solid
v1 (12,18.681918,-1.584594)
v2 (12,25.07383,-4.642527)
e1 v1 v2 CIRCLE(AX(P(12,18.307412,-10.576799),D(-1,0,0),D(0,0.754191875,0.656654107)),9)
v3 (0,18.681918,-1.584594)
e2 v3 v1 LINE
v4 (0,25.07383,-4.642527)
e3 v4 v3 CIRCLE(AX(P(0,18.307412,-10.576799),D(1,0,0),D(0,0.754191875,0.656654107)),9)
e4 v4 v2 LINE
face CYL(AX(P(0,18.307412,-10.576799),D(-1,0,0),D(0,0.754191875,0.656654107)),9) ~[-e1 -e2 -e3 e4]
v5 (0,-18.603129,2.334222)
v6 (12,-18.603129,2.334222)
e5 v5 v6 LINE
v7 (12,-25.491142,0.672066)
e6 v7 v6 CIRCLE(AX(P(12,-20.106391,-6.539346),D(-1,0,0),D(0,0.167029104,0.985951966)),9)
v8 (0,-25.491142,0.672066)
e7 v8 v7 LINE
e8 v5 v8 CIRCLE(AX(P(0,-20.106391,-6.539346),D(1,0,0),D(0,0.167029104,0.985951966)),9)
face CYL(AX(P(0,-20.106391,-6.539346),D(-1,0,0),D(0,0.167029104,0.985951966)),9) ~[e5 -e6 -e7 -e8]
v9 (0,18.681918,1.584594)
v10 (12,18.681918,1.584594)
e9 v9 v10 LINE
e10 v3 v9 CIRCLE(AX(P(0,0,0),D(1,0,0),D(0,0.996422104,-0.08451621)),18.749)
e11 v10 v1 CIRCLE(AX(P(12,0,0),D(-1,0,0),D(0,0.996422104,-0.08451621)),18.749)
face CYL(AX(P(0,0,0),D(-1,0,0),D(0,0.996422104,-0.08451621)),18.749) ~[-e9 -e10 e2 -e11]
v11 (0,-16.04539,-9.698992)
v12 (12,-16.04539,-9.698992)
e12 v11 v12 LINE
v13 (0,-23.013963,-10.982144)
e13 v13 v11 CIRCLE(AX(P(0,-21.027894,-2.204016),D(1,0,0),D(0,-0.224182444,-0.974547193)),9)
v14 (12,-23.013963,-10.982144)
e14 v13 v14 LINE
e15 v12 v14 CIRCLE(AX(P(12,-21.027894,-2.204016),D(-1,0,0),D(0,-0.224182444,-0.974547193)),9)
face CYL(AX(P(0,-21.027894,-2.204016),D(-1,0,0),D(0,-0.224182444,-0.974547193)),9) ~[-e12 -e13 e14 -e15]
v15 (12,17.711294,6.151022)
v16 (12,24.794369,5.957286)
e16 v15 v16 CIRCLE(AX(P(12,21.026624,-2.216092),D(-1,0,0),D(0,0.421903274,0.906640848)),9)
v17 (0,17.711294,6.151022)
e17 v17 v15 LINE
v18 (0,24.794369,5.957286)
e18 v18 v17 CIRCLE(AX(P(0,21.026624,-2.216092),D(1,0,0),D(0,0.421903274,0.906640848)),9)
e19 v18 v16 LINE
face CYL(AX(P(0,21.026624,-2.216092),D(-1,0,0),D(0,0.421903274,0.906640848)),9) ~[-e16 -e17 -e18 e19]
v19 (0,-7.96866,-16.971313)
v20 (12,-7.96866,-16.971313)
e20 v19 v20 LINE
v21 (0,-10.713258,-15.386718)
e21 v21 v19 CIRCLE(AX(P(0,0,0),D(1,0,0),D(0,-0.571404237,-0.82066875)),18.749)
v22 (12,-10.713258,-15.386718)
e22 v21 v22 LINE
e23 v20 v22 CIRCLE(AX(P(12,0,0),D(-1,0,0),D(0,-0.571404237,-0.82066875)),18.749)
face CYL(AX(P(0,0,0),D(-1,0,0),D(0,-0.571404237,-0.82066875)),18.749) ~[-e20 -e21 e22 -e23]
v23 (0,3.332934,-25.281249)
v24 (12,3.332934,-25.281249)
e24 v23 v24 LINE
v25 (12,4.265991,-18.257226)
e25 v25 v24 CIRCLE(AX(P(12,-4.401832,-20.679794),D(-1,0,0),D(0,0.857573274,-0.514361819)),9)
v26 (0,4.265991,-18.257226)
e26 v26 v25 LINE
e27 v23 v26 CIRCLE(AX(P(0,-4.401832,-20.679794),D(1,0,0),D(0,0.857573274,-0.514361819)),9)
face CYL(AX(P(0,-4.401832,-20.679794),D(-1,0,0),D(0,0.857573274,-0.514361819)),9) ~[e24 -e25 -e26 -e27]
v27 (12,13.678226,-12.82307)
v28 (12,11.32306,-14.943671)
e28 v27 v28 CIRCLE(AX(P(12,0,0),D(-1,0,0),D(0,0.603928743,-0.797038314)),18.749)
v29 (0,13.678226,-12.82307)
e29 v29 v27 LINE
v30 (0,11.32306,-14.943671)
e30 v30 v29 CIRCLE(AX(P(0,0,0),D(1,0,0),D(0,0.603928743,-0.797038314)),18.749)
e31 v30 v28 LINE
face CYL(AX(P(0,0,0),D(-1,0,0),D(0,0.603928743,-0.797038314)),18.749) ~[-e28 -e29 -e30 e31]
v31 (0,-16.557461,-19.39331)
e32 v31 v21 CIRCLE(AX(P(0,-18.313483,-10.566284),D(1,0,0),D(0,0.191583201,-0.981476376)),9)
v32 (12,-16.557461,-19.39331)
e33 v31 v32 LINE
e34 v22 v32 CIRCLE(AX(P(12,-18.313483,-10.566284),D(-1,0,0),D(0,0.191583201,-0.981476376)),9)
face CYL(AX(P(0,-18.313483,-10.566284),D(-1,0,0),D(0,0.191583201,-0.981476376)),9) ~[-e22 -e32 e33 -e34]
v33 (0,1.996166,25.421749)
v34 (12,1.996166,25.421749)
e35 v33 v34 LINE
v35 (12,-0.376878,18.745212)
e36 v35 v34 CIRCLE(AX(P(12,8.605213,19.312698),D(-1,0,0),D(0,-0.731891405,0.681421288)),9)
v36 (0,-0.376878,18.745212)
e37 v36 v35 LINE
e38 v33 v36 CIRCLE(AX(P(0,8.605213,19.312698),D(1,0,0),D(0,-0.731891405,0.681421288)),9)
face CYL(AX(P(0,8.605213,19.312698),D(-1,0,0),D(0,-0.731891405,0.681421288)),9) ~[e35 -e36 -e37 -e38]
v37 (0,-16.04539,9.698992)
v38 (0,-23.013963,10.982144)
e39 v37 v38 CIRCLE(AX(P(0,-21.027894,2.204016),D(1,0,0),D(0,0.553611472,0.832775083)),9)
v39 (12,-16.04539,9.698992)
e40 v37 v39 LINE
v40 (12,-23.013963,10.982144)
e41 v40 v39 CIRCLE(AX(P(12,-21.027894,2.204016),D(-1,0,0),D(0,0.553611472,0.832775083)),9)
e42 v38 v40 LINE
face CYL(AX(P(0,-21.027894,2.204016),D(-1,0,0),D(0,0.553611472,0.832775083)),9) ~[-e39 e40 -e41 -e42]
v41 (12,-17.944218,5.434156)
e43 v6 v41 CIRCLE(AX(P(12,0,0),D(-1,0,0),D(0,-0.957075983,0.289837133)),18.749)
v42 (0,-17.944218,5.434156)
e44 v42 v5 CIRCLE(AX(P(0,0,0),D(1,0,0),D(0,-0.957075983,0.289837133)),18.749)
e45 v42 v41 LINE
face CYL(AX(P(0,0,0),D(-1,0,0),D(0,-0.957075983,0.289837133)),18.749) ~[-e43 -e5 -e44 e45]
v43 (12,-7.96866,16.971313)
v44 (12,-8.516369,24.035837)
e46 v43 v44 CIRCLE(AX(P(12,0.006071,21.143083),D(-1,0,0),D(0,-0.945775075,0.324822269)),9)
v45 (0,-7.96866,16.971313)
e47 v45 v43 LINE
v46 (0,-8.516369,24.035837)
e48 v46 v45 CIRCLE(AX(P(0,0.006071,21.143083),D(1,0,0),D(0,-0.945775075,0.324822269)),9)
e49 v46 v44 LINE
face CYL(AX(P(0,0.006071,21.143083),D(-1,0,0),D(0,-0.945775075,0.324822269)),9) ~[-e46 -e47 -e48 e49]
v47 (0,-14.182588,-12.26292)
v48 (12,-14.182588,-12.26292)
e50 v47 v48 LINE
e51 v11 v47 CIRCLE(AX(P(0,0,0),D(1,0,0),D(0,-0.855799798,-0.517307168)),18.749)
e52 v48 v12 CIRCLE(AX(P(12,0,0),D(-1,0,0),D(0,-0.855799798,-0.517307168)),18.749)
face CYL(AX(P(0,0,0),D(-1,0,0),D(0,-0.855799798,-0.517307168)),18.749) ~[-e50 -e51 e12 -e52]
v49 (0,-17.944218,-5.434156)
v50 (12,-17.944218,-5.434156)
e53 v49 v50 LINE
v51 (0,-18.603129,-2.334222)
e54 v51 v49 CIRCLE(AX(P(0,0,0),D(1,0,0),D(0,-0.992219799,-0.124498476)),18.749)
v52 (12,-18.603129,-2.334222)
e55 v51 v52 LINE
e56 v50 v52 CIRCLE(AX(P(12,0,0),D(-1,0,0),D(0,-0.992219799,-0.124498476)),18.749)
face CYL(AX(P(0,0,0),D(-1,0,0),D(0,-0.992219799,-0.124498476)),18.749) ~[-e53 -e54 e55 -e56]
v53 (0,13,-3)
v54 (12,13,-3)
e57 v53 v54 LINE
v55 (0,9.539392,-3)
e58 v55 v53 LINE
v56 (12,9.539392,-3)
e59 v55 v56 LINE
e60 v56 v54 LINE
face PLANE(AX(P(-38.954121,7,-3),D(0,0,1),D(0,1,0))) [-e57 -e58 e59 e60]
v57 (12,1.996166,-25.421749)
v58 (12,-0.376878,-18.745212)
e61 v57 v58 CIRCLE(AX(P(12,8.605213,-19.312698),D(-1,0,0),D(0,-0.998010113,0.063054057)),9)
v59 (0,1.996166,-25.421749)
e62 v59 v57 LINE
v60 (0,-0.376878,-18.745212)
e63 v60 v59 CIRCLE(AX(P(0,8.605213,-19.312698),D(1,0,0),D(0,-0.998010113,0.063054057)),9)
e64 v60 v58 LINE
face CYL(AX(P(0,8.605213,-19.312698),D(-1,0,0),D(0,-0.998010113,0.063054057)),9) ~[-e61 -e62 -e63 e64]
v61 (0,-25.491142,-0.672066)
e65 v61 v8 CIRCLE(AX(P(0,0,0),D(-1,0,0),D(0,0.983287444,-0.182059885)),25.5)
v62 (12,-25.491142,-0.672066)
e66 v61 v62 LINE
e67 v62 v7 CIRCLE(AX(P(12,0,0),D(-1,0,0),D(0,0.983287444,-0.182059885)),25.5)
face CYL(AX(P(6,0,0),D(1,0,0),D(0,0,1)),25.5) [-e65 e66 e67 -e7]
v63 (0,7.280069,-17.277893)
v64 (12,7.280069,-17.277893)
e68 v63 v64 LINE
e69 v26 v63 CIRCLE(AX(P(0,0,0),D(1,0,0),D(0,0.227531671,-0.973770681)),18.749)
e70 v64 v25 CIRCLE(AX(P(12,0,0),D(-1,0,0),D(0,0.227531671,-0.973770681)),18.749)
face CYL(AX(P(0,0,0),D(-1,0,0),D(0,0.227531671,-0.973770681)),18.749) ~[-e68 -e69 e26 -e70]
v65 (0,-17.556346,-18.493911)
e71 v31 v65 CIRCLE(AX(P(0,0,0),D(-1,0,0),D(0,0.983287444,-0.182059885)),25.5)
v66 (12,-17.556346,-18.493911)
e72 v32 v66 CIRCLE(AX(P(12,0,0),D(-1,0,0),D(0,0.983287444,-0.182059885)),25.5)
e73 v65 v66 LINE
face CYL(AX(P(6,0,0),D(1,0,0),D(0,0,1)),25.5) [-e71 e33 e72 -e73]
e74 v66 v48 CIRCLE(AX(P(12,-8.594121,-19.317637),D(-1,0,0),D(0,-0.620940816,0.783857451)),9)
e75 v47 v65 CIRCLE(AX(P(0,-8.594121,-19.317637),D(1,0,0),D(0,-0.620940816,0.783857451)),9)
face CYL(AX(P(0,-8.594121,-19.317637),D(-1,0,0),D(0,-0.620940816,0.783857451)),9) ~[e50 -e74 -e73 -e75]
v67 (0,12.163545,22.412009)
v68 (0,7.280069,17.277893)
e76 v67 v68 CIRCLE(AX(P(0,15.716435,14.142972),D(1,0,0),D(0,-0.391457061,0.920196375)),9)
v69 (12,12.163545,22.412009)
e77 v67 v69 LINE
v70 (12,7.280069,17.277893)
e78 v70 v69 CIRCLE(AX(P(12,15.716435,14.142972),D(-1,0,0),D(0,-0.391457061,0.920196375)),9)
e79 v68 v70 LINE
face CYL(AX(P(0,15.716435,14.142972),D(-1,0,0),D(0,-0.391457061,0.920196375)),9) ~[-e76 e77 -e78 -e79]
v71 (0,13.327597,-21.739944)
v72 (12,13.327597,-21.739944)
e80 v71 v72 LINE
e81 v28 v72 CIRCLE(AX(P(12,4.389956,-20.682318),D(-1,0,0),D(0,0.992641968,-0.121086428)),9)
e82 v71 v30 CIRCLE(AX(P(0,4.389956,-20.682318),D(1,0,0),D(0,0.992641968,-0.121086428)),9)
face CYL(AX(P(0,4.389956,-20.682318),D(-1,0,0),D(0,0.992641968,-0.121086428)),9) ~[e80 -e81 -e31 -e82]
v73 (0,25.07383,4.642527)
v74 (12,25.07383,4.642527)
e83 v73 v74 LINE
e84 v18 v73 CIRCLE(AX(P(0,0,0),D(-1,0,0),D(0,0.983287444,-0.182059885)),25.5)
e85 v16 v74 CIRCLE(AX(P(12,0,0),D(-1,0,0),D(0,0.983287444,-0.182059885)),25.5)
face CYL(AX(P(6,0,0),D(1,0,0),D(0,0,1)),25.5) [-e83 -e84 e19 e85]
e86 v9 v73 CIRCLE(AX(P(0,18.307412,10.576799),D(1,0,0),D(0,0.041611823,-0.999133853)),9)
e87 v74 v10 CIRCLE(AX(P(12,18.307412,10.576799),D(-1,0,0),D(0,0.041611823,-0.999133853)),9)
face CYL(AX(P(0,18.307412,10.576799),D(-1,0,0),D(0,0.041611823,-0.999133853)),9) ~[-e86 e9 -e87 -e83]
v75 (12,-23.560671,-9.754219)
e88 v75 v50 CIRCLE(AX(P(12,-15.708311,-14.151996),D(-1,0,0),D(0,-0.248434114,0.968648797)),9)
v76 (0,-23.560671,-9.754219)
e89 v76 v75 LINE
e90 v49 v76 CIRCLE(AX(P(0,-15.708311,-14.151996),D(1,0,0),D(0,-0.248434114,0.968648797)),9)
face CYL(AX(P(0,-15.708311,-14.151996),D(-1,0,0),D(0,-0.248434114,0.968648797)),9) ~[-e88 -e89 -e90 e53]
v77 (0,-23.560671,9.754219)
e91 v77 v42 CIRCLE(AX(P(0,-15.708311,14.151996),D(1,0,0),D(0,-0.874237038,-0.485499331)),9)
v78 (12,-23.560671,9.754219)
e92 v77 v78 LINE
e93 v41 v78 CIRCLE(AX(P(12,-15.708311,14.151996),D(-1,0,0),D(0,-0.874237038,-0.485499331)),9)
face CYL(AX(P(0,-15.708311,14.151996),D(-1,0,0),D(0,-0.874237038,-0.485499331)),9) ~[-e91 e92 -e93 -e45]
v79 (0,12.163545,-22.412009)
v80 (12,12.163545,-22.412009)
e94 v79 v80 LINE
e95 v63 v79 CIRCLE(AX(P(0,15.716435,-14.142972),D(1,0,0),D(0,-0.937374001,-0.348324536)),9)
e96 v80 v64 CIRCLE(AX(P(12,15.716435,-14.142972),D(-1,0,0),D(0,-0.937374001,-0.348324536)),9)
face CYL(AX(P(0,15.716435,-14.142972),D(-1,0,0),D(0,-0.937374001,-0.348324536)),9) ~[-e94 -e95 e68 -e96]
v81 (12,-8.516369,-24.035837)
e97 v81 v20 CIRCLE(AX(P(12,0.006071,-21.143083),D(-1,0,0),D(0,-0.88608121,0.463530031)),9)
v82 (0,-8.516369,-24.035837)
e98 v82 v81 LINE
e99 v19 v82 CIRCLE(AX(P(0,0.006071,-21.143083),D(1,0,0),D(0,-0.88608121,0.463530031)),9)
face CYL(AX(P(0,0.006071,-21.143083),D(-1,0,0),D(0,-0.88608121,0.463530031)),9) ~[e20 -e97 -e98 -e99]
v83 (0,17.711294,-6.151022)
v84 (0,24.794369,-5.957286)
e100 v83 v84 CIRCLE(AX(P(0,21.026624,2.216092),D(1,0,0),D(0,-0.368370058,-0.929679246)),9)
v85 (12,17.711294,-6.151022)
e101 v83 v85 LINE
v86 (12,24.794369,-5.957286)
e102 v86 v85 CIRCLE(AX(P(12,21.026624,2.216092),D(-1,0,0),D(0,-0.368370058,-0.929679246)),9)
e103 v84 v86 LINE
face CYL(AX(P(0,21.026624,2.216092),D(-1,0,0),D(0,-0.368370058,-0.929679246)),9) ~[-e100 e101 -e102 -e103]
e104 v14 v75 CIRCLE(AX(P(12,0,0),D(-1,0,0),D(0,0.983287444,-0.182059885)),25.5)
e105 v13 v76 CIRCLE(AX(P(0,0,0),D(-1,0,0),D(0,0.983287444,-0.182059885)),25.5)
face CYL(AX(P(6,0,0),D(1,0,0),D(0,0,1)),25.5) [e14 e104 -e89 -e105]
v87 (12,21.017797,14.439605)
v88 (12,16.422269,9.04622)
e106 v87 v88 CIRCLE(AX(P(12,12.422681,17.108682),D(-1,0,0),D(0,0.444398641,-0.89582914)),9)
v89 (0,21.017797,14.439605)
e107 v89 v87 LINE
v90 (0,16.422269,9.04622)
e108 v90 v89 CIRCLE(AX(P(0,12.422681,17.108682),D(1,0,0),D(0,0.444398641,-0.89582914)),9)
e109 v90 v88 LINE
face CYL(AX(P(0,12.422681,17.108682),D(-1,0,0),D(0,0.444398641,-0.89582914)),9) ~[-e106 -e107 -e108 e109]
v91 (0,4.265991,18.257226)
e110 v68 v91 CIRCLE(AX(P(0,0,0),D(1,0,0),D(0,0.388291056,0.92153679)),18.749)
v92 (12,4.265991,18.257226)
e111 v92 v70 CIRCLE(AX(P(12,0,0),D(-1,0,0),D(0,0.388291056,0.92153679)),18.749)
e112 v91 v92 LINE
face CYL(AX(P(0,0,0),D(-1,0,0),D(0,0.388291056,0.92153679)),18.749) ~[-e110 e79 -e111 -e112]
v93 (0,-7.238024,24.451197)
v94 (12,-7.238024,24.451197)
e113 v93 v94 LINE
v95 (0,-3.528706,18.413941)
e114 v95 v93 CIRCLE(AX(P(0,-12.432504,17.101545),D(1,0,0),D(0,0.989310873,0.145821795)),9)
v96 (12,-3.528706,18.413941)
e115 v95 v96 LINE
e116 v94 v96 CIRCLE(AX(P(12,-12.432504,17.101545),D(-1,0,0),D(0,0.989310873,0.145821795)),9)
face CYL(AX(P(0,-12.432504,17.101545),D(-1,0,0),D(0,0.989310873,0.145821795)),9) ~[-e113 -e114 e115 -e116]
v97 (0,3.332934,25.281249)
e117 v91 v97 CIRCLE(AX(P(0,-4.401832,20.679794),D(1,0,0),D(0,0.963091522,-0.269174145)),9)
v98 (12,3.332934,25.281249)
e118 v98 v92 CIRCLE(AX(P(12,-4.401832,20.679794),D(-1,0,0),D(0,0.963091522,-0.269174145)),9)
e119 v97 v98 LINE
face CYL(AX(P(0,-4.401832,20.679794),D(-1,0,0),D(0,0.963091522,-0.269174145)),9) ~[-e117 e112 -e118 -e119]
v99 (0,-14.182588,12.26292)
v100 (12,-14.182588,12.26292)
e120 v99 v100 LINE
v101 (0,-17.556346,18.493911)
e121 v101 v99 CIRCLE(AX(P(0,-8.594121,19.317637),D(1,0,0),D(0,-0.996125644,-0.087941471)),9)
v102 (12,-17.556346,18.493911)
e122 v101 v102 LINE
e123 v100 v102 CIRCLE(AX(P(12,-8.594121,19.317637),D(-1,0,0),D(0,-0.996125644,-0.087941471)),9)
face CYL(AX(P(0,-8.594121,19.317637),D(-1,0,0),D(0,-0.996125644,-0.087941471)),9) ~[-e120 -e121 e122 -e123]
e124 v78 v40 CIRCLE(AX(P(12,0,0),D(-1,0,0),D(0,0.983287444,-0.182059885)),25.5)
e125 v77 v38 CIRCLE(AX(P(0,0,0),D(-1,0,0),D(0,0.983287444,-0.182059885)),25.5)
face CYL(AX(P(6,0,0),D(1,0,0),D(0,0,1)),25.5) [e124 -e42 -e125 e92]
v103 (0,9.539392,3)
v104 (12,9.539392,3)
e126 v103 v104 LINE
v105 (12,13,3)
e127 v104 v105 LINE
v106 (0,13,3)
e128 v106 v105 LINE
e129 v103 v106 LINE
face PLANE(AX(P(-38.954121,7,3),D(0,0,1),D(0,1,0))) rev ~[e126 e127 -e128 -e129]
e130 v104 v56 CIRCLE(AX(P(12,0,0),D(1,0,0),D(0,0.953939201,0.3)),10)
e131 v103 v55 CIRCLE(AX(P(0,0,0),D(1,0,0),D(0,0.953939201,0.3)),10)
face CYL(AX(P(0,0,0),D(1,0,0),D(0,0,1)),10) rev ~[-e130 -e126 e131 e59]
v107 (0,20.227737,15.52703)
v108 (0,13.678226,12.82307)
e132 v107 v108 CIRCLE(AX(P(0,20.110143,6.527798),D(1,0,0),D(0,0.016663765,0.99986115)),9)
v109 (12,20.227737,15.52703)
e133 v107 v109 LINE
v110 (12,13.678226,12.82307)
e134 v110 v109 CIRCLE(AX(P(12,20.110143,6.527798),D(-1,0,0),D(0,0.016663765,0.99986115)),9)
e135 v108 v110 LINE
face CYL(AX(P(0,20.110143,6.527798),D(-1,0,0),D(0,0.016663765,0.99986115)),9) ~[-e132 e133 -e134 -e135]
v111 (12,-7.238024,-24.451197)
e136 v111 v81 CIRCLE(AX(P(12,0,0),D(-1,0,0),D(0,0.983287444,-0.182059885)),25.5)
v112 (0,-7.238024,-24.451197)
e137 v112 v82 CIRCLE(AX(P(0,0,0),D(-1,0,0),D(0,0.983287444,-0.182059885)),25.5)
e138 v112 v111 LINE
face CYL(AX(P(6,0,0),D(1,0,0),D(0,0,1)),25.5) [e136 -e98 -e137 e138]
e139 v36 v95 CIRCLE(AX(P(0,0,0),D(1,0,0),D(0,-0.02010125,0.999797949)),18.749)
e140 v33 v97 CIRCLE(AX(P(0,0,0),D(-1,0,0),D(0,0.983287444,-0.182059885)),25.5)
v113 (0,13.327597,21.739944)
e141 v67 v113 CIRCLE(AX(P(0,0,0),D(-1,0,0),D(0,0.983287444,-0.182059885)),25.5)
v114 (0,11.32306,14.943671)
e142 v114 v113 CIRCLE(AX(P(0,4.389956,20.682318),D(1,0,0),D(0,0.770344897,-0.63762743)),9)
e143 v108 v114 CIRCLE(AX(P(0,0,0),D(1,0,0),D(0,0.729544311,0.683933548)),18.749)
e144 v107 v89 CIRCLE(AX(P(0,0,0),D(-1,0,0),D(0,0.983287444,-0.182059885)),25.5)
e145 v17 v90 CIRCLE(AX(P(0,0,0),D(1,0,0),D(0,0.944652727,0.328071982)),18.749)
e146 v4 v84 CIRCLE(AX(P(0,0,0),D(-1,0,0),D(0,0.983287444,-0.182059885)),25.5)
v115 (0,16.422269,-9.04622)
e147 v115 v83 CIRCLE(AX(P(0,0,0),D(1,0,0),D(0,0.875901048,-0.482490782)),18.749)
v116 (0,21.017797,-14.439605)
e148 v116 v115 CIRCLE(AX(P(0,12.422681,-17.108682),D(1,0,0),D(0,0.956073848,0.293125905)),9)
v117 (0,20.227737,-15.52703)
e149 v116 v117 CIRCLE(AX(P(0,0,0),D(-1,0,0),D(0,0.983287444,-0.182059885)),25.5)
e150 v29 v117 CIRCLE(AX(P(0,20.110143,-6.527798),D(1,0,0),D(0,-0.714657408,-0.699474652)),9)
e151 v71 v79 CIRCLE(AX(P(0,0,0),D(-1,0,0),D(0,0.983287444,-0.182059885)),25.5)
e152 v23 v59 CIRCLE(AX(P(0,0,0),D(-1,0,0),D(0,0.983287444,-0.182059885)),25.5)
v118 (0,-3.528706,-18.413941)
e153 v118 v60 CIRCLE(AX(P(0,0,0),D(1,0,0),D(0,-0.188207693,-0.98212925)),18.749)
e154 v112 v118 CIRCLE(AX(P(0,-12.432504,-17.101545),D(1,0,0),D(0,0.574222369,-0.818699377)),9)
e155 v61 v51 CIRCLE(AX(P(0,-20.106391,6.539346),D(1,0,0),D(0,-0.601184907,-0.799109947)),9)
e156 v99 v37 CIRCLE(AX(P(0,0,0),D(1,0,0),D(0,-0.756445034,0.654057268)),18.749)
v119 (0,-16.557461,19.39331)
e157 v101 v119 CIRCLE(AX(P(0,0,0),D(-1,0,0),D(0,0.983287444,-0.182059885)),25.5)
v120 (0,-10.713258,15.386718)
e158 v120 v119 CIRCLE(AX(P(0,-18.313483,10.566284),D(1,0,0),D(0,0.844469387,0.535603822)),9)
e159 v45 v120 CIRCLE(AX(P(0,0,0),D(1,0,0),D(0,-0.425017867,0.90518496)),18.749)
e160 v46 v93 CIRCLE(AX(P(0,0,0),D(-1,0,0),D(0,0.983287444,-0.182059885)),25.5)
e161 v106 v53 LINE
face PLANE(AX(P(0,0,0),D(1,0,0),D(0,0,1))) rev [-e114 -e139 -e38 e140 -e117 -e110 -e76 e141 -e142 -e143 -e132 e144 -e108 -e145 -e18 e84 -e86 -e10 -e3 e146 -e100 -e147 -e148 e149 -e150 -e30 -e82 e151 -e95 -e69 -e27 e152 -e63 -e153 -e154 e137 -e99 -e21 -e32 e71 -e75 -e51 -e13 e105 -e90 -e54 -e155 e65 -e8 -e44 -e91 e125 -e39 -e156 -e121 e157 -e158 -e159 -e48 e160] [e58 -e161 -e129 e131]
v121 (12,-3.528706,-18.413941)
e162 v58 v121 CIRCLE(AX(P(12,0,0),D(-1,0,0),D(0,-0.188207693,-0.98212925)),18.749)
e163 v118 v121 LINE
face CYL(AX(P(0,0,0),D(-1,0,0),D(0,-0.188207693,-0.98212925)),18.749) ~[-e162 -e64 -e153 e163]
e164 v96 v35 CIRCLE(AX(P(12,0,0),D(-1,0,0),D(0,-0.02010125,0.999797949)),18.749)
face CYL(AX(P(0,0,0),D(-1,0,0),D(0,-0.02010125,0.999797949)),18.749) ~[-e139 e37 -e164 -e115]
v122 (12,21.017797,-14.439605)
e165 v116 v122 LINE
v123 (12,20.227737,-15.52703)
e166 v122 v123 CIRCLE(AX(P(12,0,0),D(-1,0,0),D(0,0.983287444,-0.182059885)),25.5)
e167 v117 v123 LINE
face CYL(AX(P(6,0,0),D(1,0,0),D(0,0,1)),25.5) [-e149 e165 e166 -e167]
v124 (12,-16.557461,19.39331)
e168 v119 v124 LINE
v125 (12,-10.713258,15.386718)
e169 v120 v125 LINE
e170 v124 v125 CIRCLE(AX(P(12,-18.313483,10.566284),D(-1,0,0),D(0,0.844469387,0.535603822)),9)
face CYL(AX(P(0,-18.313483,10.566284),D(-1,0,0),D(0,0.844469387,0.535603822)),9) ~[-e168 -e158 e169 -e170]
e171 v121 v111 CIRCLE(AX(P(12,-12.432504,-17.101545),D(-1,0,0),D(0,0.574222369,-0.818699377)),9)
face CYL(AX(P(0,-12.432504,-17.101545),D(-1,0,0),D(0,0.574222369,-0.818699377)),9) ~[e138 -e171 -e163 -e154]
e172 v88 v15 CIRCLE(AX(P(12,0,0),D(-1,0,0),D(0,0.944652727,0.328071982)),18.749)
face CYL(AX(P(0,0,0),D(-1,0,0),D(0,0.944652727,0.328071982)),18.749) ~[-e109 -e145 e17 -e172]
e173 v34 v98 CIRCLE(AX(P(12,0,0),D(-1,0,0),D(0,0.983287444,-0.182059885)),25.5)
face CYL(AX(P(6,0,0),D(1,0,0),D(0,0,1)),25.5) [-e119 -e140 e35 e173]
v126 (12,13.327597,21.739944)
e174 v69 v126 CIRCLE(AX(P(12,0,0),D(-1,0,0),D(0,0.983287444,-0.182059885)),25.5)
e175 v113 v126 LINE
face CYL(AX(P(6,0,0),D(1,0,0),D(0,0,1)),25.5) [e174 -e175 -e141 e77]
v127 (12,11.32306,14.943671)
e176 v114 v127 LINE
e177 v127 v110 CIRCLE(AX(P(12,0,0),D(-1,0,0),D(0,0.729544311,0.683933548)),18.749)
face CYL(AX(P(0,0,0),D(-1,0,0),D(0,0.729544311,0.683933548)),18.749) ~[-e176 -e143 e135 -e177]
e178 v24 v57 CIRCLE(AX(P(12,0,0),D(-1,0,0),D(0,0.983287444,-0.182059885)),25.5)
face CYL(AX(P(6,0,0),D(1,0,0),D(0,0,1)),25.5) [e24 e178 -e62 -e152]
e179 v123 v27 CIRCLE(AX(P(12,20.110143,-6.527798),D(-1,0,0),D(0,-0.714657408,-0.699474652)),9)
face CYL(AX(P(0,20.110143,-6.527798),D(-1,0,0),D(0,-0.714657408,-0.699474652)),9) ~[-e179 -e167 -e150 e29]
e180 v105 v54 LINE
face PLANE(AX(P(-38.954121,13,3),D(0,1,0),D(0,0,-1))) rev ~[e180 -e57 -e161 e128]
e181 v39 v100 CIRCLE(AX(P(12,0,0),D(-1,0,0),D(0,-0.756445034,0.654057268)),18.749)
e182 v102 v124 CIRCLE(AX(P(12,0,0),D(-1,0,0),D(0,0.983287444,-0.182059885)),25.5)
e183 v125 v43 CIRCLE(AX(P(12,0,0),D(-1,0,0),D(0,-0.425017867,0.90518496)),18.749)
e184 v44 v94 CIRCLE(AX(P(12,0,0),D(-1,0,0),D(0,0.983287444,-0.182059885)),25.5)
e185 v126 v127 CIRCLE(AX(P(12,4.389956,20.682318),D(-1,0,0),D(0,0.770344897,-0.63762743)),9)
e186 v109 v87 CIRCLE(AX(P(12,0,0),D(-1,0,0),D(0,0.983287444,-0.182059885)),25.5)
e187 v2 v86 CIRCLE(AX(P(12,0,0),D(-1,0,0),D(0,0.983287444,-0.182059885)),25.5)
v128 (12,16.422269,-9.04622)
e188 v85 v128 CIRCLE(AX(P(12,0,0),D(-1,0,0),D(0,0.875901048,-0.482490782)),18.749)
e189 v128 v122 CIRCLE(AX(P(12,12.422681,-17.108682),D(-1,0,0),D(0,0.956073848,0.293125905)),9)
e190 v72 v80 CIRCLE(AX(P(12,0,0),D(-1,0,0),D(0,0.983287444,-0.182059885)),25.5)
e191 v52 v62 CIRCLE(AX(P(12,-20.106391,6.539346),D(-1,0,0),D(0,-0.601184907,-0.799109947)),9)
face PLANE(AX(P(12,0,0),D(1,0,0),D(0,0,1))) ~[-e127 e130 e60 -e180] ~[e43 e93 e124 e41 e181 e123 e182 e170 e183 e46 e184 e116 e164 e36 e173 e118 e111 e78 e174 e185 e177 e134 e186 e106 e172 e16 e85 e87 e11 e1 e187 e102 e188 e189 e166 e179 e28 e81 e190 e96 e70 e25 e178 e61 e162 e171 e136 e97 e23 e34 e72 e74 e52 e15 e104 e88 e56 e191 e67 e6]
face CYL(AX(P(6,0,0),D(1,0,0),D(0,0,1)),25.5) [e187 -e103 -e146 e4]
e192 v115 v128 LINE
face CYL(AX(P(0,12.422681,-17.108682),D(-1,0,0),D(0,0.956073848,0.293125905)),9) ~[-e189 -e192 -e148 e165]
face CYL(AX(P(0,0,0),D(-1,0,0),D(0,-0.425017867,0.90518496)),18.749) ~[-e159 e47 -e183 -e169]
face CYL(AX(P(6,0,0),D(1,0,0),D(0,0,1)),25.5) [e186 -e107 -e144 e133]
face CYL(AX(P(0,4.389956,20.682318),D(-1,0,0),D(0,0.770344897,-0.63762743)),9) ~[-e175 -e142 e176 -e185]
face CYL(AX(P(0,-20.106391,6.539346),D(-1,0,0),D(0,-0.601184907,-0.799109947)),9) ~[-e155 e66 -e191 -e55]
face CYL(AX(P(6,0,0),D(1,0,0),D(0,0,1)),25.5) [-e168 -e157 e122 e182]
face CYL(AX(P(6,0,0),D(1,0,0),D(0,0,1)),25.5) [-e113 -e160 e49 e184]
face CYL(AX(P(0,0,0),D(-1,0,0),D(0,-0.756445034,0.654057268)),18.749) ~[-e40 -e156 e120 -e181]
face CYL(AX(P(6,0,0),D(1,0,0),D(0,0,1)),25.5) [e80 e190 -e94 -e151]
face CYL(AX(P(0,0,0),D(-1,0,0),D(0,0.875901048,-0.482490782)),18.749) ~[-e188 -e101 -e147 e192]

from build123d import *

# Parameters (mm, degrees)
BASPROSKE_W             = 12
BASPROSKE_H             = 25.5
TOOTHCUT_DEPTH          = 39.006578378
TEETHCUTS_COUNT         = 15
TEETHCUTS_ANGLE         = 336
BORSKE_R                = 10
BORE_DEPTH              = 50.0000508
CUT_EXTRUDE1_DEPTH      = 38.954121274
CUT_EXTRUDE1_DEPTH_BACK = 38.954121274
SKETCH1_W               = 6
SKETCH1_H               = 6


with BuildPart() as part:
    # BasProSke → Base-Revolve (revolve)
    with BuildSketch(Plane(origin=(0, 0, 0), x_dir=(1, 0, 0), z_dir=(0, 1, 0)), mode=Mode.PRIVATE) as base_revolve_sk:
        with Locations((6, 12.75)):
            Rectangle(BASPROSKE_W, BASPROSKE_H)
    revolve(base_revolve_sk.sketch.rotate(Axis((-10, 0, 0), (1, 0, 0)), 180), axis=Axis((-10, 0, 0), (1, 0, 0)))

    # TooCutSke → ToothCut (cut, through all)
    with BuildSketch(Plane(origin=(0, 0, 0), x_dir=(0, 0, -1), z_dir=(1, 0, 0))):
        with BuildLine():
            ThreePointArc((1.584594428, 18.681918036), (0, 18.749), (-1.584594428, 18.681918036))
            ThreePointArc((-1.584594428, 18.681918036), (-2.465052499, 22.206073835), (-4.666912141, 25.095138498))
            ThreePointArc((-4.666912141, 25.095138498), (0, 25.5254), (4.666912141, 25.095138498))
            ThreePointArc((4.666912141, 25.095138498), (2.465052499, 22.206073835), (1.584594428, 18.681918036))
        make_face()
    toothcut = extrude(amount=TOOTHCUT_DEPTH, mode=Mode.SUBTRACT)

    # TeethCuts: ToothCut ×15 about axis
    teethcuts_axis = Axis((-10, 0, 0), (1, 0, 0))
    for i in range(1, TEETHCUTS_COUNT):
        add(toothcut.rotate(teethcuts_axis, i * TEETHCUTS_ANGLE / (TEETHCUTS_COUNT - 1)), mode=Mode.SUBTRACT)

    # BorSke → Bore (cut, symmetric)
    with BuildSketch(Plane(origin=(0, 0, 0), x_dir=(0, 0, -1), z_dir=(1, 0, 0))):
        with Locations(Location((0, 0, 0), (0, 0, 180))):
            Circle(BORSKE_R)
    extrude(amount=BORE_DEPTH, both=True, mode=Mode.SUBTRACT)

    # Sketch1 → Cut-Extrude1 (cut, two sides: drawn at the far end of the back side and taken through both)
    with BuildSketch(Plane(origin=(0, 0, 0), x_dir=(0, 0, -1), z_dir=(1, 0, 0)).offset(-CUT_EXTRUDE1_DEPTH_BACK)):
        with Locations((0, 10)):
            Rectangle(SKETCH1_W, SKETCH1_H)
    extrude(amount=CUT_EXTRUDE1_DEPTH + CUT_EXTRUDE1_DEPTH_BACK, mode=Mode.SUBTRACT)


solid = part.part
